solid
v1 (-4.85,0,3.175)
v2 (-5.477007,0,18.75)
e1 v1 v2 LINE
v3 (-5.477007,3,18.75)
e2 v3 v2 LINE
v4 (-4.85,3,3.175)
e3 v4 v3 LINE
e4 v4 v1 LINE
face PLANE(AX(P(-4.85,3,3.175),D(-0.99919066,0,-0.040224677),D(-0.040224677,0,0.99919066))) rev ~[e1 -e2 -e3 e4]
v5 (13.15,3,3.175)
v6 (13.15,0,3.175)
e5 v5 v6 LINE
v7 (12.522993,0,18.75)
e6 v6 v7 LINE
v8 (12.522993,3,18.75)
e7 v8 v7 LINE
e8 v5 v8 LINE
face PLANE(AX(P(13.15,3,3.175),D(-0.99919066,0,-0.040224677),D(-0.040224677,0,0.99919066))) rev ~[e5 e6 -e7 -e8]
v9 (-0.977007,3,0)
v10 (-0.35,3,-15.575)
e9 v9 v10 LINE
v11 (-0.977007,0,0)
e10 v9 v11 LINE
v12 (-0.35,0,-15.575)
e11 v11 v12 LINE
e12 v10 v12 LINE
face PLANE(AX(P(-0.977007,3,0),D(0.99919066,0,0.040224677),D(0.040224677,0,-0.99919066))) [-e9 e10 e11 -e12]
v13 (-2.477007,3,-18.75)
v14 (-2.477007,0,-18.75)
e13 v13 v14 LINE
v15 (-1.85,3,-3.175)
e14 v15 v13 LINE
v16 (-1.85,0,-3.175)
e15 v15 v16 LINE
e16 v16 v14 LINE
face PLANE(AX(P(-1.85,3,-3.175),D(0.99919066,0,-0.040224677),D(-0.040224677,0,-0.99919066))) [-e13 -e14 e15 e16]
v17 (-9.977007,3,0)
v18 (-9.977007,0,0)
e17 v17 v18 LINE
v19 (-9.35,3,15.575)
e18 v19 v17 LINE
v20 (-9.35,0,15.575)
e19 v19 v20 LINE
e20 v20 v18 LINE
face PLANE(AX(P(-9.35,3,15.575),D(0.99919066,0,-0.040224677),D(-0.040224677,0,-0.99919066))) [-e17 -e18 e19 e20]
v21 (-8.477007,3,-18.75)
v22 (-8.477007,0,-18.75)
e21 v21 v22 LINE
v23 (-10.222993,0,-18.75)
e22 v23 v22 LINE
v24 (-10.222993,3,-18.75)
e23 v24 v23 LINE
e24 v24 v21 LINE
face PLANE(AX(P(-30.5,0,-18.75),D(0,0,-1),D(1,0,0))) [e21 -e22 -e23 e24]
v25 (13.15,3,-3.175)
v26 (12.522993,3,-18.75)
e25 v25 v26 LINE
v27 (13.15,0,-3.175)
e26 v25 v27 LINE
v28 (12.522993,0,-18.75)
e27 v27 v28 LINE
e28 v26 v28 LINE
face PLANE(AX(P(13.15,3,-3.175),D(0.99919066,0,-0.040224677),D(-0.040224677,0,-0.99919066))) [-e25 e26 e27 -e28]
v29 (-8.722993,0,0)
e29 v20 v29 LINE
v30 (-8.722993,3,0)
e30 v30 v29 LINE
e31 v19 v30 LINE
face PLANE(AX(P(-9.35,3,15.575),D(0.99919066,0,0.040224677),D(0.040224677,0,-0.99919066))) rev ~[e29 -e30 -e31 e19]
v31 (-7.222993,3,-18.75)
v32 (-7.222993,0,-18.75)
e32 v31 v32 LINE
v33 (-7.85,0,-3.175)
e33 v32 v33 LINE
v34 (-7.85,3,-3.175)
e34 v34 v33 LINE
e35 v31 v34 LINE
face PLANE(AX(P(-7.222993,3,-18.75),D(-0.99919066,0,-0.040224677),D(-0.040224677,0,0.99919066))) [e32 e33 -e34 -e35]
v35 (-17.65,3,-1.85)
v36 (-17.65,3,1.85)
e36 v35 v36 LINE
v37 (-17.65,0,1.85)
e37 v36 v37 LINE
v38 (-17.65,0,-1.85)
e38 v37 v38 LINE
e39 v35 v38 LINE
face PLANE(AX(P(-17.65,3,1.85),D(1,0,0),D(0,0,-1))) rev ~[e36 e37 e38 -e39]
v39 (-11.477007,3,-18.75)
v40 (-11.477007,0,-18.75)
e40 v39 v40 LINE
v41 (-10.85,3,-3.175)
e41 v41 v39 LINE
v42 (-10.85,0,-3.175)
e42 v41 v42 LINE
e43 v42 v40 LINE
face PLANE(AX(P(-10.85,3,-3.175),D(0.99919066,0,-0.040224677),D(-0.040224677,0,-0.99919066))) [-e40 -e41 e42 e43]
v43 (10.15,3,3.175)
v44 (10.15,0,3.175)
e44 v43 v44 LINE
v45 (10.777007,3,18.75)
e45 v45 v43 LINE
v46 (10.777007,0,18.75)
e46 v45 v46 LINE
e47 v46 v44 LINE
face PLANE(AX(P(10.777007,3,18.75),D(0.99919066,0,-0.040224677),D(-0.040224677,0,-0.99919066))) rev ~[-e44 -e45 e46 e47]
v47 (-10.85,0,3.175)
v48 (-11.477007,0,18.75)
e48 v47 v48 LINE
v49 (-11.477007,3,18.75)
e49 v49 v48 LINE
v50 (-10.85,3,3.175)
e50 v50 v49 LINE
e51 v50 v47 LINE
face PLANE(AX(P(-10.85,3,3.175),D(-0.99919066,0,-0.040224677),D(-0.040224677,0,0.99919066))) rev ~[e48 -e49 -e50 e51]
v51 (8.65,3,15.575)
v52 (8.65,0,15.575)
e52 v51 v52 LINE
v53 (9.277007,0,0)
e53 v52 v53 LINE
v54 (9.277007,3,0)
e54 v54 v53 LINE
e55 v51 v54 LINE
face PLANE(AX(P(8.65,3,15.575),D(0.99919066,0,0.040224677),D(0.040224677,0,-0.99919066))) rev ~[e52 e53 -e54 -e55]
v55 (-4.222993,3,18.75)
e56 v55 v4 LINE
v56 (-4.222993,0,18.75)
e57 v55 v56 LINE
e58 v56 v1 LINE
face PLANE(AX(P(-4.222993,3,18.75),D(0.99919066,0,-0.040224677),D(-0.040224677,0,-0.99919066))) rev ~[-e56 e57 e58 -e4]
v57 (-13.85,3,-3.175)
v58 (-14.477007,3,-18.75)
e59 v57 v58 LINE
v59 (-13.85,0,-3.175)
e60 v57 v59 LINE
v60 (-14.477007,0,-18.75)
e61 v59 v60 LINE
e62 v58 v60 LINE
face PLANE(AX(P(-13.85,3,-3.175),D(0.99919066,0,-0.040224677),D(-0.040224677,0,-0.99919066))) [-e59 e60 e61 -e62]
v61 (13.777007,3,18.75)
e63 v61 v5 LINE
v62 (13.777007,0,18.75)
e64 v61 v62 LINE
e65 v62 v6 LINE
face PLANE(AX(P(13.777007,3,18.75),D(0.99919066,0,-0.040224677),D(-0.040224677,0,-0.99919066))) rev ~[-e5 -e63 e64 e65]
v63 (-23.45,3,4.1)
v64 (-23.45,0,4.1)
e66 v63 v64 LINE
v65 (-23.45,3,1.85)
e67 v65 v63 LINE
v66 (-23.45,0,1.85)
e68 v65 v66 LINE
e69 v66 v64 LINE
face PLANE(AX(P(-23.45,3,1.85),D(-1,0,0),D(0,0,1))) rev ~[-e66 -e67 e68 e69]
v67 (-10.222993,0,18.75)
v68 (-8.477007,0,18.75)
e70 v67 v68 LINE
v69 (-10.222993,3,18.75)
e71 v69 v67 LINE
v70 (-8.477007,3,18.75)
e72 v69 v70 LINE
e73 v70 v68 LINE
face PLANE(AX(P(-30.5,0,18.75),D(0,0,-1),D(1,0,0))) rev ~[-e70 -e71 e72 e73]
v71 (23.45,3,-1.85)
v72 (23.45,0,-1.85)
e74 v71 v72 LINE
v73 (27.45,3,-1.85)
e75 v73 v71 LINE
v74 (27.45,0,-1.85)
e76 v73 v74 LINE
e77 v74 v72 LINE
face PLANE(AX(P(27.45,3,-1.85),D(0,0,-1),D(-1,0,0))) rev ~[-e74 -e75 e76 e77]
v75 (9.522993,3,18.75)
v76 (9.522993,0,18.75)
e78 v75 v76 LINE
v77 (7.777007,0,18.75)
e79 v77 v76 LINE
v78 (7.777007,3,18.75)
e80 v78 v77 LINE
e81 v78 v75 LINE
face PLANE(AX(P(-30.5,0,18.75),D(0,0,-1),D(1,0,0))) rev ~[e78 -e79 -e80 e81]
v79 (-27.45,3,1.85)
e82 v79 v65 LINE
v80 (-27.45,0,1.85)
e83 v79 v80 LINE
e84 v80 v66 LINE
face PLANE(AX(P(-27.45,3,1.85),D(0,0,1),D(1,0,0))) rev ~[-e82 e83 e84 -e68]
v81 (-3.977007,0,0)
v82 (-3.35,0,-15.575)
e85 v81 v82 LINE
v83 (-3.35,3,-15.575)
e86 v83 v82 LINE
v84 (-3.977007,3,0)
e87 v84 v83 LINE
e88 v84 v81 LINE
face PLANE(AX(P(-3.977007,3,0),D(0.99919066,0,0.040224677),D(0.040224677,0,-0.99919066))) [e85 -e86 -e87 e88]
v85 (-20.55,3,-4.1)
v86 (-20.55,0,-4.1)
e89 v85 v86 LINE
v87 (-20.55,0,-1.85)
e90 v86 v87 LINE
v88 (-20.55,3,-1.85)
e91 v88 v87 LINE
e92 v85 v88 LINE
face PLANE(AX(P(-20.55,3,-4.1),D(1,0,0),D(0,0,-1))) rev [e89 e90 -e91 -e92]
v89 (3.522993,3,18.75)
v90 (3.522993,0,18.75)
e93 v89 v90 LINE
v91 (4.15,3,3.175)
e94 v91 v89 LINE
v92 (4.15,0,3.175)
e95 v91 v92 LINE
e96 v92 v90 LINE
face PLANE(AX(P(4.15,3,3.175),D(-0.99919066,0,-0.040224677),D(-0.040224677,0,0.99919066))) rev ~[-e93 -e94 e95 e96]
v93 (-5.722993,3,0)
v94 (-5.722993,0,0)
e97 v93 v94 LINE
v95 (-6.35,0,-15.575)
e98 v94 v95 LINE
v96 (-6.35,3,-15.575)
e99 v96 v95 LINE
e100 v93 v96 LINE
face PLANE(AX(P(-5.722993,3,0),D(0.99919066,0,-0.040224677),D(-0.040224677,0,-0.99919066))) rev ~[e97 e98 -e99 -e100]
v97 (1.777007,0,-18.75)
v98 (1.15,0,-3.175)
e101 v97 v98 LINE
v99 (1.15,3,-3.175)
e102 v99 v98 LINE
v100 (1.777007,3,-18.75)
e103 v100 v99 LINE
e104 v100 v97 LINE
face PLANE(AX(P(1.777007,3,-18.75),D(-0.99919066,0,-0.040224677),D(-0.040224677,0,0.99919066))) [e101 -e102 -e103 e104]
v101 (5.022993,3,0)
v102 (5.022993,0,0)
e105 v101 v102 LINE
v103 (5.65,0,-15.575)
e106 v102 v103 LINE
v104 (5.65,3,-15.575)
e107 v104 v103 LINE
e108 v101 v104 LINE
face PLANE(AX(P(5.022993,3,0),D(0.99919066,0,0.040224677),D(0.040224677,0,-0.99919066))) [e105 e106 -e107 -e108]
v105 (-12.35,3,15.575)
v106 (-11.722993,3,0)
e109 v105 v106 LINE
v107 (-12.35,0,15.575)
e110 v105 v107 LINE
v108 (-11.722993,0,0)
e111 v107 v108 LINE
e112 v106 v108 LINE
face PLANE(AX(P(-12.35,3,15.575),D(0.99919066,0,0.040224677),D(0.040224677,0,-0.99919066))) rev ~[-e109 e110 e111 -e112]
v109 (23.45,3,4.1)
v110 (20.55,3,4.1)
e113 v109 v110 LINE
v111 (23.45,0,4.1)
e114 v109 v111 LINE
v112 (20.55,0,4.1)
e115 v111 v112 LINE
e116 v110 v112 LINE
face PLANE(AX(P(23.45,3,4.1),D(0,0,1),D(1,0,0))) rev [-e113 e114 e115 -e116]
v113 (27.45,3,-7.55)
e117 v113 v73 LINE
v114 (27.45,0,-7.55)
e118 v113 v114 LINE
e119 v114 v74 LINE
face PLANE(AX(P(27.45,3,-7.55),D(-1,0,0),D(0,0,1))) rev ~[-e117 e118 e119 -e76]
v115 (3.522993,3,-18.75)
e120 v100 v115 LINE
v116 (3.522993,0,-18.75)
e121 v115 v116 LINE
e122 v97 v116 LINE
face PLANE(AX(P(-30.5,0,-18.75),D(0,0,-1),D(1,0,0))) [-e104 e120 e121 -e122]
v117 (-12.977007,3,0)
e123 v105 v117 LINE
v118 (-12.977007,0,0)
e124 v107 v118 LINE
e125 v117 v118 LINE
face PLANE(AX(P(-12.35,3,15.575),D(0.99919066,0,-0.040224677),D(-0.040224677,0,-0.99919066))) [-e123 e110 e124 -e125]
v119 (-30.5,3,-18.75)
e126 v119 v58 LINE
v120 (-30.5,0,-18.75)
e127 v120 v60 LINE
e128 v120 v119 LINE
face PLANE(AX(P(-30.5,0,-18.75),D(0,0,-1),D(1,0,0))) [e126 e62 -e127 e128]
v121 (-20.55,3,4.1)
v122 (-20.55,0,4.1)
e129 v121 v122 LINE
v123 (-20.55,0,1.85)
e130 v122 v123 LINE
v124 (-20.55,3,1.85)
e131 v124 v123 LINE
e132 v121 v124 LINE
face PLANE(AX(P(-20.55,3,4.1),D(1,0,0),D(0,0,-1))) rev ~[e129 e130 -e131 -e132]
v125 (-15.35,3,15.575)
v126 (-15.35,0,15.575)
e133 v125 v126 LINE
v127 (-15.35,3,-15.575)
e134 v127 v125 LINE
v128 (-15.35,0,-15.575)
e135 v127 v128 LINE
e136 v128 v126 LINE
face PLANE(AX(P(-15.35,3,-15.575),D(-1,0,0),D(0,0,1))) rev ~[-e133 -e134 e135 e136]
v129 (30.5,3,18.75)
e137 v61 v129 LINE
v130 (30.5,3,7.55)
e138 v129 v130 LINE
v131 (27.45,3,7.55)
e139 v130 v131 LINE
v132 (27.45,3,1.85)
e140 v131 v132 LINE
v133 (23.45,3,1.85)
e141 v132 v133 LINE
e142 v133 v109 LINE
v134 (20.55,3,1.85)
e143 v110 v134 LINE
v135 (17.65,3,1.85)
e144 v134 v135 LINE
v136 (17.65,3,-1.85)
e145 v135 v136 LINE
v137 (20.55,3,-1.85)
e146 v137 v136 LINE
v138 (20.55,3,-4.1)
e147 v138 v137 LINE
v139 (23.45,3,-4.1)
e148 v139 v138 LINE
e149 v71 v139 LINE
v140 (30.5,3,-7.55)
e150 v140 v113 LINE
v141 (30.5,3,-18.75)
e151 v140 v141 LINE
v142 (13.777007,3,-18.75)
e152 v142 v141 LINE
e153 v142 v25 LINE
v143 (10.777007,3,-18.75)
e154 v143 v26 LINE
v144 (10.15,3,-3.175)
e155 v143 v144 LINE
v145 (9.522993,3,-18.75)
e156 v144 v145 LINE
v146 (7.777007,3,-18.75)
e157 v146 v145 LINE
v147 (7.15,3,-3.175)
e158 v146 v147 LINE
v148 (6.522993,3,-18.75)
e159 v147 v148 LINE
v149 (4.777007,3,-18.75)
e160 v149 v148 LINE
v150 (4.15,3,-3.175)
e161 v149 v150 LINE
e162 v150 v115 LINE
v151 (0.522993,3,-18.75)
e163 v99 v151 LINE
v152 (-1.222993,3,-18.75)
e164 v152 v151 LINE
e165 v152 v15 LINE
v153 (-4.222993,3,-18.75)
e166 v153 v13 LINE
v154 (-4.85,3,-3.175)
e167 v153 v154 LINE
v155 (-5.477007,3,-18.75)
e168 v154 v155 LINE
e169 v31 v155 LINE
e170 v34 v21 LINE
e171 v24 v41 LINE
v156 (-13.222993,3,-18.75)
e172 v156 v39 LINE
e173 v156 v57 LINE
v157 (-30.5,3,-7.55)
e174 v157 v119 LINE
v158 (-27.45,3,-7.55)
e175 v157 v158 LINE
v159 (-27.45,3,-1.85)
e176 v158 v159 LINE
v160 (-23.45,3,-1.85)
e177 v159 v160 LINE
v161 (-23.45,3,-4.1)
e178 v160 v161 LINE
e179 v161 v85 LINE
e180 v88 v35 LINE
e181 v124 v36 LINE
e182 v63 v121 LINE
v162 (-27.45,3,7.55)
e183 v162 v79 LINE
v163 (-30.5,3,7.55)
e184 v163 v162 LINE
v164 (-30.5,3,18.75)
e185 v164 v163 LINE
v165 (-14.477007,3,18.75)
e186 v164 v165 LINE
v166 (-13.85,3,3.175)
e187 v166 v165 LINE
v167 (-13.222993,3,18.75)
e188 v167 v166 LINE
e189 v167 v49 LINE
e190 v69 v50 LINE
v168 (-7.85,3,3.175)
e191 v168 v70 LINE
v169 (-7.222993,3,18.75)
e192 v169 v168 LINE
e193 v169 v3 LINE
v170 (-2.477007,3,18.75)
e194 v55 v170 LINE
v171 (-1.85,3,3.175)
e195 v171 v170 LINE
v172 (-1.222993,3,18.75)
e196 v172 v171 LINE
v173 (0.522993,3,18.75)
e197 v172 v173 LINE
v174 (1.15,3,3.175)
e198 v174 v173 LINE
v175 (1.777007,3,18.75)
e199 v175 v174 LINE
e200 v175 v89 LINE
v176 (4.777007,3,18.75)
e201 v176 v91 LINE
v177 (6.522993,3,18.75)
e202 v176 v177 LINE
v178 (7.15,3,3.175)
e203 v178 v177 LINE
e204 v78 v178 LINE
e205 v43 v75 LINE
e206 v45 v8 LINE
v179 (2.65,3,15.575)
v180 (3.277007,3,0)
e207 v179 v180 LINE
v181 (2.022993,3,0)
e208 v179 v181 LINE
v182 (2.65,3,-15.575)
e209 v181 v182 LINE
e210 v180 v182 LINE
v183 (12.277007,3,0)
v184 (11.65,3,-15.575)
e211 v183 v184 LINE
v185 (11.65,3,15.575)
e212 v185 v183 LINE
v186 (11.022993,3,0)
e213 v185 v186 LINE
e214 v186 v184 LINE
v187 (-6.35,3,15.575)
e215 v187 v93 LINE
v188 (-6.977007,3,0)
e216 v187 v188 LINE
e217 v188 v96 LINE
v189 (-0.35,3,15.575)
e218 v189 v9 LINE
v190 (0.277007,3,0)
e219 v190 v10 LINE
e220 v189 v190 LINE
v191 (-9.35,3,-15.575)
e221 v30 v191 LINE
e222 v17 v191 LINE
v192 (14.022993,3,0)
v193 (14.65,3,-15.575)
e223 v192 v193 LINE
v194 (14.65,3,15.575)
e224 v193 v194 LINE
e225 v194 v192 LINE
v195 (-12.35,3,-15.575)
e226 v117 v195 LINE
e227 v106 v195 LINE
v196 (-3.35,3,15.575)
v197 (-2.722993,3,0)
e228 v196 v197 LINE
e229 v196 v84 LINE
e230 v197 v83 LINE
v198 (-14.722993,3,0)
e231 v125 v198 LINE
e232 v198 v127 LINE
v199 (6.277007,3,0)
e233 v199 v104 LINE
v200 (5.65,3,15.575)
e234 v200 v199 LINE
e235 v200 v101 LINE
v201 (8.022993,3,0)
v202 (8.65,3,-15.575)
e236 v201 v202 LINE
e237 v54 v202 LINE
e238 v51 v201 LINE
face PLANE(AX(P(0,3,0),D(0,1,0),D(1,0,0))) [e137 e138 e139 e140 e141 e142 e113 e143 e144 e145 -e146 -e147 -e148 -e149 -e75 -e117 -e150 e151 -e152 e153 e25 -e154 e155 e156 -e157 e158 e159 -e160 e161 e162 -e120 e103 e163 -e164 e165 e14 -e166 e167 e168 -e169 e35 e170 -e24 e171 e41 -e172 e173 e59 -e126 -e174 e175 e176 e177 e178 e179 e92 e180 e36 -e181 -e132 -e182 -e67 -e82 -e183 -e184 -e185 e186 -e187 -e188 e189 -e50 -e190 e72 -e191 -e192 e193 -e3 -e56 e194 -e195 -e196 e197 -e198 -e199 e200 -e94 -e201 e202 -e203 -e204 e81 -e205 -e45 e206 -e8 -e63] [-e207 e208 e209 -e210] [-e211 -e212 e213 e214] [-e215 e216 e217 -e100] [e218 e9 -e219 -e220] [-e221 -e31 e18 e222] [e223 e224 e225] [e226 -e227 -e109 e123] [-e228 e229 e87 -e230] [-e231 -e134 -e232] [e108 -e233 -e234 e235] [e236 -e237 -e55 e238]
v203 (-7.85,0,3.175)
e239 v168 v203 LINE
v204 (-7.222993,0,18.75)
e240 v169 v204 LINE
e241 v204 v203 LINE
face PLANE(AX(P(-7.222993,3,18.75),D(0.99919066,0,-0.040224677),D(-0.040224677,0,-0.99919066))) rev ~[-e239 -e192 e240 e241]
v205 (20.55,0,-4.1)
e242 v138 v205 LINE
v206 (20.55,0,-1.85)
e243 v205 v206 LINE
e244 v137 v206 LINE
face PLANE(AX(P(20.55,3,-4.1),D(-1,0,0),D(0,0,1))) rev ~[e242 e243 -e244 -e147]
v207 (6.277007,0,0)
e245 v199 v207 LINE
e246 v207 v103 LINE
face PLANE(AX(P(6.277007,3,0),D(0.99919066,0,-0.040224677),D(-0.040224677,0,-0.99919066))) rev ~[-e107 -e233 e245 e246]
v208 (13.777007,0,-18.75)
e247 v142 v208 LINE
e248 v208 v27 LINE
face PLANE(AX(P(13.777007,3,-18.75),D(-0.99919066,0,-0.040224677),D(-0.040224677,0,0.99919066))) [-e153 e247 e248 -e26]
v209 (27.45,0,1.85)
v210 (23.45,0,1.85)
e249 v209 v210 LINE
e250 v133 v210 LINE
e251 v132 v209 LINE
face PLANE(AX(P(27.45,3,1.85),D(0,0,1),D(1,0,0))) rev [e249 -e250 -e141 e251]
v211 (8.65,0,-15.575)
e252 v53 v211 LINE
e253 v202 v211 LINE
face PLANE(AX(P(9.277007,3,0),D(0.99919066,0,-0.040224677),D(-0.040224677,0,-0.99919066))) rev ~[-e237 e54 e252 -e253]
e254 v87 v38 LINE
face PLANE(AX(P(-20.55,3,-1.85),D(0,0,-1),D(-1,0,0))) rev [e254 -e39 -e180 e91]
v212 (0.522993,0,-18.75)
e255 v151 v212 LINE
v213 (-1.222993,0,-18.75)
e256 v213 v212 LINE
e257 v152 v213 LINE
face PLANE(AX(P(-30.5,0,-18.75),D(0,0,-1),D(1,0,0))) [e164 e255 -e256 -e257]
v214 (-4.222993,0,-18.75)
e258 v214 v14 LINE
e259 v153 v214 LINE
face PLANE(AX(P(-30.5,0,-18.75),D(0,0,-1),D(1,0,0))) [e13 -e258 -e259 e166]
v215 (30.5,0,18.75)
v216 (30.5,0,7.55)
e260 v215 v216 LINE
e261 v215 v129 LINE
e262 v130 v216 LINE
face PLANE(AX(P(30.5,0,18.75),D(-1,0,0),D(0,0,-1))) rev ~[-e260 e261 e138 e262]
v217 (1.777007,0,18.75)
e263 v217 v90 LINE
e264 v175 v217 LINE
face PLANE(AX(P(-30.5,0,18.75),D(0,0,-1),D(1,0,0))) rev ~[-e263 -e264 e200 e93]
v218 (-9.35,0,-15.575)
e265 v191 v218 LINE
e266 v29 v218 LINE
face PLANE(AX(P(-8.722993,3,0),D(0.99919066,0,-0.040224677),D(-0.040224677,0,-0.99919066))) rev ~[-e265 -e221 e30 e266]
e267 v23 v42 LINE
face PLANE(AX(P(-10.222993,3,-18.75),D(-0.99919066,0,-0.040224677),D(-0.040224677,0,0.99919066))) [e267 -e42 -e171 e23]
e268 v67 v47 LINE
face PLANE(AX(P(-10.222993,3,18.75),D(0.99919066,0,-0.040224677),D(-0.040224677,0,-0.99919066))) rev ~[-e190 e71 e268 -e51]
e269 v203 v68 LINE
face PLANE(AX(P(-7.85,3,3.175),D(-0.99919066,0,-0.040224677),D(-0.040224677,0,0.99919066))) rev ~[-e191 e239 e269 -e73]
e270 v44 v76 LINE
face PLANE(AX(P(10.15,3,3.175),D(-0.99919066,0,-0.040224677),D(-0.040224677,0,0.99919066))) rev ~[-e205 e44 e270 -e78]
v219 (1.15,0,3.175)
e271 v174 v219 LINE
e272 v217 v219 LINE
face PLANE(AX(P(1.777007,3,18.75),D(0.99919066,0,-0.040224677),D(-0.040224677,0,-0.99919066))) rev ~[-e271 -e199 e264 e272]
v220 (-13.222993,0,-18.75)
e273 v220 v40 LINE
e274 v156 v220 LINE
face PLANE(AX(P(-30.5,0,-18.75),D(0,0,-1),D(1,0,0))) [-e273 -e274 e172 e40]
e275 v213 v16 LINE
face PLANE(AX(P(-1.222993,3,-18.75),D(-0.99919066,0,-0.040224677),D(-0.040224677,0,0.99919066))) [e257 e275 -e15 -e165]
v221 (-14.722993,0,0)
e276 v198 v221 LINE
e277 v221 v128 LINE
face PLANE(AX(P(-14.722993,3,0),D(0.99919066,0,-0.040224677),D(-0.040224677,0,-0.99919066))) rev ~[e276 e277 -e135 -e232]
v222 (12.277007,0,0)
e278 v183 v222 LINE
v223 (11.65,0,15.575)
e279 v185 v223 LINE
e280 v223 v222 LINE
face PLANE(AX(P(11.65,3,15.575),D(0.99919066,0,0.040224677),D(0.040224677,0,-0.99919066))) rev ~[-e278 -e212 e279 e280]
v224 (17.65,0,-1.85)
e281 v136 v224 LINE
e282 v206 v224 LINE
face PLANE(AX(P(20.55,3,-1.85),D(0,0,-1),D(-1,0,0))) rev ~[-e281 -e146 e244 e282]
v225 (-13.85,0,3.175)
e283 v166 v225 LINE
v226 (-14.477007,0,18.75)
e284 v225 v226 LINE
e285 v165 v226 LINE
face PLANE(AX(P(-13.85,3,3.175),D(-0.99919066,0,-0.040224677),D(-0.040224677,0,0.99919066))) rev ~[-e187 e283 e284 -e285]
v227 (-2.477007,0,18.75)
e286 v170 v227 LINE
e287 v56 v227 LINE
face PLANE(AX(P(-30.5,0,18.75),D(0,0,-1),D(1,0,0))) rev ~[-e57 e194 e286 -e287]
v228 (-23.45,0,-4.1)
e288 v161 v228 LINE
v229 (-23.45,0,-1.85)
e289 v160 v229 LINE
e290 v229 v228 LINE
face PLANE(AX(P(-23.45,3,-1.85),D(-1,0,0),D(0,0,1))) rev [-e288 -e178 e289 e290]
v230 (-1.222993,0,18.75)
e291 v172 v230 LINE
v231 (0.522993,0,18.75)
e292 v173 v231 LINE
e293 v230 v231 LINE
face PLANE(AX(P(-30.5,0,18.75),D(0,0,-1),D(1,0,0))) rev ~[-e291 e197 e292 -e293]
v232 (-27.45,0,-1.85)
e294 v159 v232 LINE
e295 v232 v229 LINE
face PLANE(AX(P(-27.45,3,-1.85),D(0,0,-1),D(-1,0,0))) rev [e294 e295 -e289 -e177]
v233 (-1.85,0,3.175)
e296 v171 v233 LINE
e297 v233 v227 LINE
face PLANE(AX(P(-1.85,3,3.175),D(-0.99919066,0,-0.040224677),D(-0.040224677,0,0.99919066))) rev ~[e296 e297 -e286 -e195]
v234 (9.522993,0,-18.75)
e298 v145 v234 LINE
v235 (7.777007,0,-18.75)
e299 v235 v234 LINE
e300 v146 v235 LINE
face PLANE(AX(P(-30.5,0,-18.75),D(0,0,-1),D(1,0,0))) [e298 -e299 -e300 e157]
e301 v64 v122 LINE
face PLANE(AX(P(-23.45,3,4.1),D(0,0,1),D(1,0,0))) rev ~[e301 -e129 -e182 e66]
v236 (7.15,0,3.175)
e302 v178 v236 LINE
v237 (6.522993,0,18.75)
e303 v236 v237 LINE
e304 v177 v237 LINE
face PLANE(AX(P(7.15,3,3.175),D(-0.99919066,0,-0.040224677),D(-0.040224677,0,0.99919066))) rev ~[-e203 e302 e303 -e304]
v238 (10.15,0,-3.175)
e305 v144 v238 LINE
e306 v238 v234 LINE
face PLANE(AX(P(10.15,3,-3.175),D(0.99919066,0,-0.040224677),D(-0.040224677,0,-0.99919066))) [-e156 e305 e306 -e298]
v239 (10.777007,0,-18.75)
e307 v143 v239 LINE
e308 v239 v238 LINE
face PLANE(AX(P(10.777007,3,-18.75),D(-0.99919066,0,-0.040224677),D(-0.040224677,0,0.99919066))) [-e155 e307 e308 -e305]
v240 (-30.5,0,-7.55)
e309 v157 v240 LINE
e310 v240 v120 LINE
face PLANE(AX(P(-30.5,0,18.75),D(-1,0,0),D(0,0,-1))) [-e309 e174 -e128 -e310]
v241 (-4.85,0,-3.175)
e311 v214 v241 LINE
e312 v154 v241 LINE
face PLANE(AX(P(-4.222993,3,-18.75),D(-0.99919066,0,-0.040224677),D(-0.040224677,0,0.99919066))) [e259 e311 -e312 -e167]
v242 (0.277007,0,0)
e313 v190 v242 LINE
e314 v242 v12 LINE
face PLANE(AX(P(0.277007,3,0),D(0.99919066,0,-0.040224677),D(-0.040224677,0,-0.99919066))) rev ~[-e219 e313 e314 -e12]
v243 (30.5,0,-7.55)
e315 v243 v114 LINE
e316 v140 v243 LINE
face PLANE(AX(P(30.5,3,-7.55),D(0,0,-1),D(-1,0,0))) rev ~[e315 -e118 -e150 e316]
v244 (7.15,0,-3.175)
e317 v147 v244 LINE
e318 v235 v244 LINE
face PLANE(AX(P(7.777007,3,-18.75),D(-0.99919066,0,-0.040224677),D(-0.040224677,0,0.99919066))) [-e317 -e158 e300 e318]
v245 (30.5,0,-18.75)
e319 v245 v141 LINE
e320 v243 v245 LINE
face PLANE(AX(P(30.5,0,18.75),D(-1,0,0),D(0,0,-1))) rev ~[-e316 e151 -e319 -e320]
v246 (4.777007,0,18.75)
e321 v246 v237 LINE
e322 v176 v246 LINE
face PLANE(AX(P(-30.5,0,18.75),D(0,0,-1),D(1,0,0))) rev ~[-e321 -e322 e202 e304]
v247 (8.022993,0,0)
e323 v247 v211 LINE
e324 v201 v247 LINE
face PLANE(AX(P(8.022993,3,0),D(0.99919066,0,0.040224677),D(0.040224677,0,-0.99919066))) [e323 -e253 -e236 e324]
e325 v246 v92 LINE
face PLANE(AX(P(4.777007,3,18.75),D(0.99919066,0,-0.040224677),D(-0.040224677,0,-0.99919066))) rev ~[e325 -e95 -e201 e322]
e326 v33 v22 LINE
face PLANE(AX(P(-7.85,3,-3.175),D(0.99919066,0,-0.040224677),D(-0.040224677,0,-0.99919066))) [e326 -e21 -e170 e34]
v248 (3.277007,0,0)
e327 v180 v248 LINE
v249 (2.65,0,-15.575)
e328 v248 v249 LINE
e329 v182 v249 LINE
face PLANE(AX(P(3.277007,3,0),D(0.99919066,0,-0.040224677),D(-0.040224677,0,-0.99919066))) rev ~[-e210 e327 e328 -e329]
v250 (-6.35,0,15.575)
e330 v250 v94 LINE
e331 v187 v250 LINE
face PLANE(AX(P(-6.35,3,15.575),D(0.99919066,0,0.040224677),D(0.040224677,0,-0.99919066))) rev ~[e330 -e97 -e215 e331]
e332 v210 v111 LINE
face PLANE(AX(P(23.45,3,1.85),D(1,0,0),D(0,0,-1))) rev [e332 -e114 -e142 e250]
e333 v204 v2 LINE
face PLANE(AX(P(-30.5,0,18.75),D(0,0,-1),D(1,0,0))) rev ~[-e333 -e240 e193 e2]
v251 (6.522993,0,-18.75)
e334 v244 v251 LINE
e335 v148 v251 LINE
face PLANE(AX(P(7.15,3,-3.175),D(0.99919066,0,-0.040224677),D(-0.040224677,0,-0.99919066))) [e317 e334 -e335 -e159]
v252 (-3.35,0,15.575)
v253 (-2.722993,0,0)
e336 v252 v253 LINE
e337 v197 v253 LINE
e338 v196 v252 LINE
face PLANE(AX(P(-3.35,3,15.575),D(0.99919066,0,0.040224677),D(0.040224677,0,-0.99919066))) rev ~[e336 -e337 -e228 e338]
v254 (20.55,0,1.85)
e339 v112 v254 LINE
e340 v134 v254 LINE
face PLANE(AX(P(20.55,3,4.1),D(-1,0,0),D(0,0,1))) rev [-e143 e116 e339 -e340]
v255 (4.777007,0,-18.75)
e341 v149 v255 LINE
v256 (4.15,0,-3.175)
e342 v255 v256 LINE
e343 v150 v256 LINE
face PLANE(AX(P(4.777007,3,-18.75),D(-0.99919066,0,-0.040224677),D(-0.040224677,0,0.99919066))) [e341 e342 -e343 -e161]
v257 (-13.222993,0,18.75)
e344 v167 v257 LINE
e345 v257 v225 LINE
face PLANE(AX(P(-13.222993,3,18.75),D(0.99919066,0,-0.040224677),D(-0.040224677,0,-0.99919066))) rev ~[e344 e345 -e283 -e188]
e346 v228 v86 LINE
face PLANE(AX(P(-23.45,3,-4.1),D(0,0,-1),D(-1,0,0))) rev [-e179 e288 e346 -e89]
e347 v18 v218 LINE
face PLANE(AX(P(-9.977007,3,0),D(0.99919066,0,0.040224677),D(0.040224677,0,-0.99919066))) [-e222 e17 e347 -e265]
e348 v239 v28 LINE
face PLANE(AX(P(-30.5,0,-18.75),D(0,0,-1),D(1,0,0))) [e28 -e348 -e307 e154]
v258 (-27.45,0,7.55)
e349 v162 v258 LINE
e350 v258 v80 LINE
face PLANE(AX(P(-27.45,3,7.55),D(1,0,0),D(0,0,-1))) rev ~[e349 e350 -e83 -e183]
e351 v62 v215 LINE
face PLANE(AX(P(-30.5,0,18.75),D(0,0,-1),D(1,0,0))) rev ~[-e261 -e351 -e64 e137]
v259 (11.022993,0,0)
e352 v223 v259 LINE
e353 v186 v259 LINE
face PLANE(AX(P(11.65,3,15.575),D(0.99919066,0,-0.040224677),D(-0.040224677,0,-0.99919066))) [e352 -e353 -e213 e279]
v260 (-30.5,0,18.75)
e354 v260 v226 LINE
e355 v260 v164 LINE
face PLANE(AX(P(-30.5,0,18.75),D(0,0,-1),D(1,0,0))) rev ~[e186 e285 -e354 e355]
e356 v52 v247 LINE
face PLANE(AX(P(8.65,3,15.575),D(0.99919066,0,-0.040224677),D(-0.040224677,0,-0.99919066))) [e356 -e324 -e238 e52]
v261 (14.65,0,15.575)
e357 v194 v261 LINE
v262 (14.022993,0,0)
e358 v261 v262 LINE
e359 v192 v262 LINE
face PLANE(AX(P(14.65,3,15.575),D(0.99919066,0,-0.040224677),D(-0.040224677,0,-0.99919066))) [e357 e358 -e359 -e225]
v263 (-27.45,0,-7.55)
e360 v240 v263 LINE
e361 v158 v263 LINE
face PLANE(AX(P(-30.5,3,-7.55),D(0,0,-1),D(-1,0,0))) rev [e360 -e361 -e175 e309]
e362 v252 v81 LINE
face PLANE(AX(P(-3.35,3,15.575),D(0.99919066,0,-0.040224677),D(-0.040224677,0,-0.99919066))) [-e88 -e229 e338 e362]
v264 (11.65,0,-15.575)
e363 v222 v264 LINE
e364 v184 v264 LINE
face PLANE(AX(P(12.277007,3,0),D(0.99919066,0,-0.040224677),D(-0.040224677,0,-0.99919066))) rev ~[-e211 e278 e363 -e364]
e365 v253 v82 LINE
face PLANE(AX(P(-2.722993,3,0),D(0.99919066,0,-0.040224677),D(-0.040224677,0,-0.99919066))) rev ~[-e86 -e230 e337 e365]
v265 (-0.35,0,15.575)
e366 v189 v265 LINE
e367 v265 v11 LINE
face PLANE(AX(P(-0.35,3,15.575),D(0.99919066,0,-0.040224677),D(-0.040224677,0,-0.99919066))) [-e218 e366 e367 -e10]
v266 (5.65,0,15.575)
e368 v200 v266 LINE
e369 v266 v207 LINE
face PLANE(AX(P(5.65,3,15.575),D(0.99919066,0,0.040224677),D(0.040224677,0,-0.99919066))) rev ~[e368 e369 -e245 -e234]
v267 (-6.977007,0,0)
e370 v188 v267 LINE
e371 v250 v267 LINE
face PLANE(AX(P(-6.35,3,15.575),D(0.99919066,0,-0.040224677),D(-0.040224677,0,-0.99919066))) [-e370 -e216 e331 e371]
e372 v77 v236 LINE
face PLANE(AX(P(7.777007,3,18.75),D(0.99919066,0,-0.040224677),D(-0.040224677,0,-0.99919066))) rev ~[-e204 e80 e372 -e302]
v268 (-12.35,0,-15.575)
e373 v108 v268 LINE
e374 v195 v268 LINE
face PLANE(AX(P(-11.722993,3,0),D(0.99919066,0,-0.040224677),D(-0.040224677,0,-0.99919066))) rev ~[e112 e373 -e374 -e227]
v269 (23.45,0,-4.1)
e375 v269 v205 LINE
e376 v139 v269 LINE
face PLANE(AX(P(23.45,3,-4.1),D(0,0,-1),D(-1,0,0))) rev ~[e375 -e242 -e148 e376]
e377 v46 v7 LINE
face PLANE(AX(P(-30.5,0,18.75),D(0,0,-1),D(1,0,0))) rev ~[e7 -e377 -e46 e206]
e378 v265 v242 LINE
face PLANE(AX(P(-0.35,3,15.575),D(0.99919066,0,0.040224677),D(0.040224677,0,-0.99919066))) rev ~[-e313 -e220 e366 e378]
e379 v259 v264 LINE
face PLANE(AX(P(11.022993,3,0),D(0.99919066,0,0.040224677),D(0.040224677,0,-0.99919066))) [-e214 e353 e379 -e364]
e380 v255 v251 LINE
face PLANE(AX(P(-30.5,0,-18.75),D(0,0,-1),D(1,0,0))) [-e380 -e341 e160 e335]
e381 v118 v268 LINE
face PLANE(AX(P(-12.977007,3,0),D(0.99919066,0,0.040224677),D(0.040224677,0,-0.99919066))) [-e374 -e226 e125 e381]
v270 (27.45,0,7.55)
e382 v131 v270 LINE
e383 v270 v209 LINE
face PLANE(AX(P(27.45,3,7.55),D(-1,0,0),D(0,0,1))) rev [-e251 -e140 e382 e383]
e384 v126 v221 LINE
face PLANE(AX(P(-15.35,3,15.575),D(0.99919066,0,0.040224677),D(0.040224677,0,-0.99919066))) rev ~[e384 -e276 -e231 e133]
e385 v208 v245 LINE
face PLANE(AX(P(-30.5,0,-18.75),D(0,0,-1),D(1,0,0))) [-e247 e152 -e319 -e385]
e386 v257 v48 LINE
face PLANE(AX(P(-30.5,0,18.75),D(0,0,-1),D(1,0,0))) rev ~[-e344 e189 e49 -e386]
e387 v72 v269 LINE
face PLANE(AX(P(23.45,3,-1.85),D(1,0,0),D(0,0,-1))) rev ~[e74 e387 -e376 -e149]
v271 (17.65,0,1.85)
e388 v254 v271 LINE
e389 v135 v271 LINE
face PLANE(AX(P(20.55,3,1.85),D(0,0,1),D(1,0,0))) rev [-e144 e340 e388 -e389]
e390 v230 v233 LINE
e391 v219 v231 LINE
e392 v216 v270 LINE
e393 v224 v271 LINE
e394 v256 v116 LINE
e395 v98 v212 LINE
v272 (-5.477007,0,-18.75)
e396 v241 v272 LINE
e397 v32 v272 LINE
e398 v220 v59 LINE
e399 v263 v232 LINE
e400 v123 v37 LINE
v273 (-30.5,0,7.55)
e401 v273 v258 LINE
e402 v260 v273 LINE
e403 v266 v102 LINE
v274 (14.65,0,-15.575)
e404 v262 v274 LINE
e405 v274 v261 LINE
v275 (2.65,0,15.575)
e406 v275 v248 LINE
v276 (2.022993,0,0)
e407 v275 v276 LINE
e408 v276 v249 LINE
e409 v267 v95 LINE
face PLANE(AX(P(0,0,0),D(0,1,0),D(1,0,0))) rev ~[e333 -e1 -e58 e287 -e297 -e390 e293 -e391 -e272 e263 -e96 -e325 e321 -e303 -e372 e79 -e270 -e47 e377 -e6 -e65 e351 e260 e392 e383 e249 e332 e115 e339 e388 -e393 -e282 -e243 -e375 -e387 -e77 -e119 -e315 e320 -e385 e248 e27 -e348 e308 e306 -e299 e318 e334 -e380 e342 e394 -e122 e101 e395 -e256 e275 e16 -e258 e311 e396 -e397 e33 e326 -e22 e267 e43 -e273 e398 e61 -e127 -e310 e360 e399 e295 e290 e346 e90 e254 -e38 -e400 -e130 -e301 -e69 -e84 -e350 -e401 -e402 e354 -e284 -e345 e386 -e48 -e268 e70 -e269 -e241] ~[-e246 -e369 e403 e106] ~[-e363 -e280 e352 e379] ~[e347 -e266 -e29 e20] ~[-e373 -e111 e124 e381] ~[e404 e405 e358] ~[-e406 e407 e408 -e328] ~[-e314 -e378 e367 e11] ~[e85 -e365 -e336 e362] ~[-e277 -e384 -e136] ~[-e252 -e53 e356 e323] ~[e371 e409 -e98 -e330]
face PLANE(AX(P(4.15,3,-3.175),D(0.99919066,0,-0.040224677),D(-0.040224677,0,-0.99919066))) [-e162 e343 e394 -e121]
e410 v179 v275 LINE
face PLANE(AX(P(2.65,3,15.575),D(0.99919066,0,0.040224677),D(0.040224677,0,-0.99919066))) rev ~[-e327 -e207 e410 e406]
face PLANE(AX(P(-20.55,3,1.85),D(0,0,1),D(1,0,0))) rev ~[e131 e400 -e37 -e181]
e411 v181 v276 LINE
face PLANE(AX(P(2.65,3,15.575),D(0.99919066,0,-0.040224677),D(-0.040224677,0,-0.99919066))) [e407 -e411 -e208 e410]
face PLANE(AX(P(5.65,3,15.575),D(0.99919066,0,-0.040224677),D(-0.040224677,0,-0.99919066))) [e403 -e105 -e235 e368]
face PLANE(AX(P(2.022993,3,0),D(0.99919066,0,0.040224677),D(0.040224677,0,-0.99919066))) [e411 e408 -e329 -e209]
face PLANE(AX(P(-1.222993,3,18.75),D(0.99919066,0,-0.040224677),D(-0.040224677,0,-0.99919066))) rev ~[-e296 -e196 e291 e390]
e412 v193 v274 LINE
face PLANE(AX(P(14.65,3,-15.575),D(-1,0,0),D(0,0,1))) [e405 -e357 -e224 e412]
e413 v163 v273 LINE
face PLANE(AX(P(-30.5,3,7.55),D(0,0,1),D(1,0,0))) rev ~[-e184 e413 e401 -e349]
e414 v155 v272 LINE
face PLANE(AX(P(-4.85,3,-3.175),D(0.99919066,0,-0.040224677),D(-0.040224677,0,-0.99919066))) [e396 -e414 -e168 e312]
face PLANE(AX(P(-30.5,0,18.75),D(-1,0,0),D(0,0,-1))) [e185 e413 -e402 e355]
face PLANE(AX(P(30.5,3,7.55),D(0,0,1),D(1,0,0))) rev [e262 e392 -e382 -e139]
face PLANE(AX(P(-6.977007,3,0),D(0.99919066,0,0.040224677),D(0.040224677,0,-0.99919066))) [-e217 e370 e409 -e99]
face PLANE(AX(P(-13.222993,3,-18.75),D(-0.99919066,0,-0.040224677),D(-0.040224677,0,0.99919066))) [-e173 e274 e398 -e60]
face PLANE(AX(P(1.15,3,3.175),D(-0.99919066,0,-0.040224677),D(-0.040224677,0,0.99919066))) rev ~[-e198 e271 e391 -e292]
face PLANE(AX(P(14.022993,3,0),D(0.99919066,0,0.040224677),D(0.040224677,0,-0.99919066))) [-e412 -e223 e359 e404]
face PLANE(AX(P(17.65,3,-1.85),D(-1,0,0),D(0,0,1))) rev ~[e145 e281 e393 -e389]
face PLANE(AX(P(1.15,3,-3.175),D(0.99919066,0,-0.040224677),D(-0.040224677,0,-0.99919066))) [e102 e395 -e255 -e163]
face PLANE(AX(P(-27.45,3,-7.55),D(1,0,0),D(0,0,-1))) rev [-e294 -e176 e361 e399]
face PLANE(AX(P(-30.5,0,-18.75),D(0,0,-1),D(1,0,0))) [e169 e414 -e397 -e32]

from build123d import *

# Parameters (mm, degrees)
SKETCH1_W            = 61
SKETCH1_H            = 37.5
BOSS_EXTRUDE1_DEPTH  = 3
CUT_EXTRUDE2_DEPTH   = 36.927879147
MIRROR2_COPY_1_DEPTH = 36.927879147
CUT_EXTRUDE3_DEPTH   = 36.927879147
LPATTERN1_COUNT      = 10
LPATTERN1_PITCH      = 3


with BuildPart() as part:
    # Sketch1 → Boss-Extrude1 (new body)
    with BuildSketch(Plane(origin=(0, 0, 0), x_dir=(1, 0, 0), z_dir=(0, 1, 0))):
        Rectangle(SKETCH1_W, SKETCH1_H)
    extrude(amount=BOSS_EXTRUDE1_DEPTH)

    # Sketch3 → Cut-Extrude2 (cut, through all)
    with BuildSketch(Plane(origin=(0, 3, 0), x_dir=(1, 0, 0), z_dir=(0, 1, 0))):
        Polygon((30.5, 7.55), (27.45, 7.55), (27.45, 1.85), (23.45, 1.85), (23.45, 4.1), (20.55, 4.1), (20.55, 1.85), (17.65, 1.85), (17.65, 0), (30.5, 0), align=None)
    cut_extrude2 = extrude(amount=-CUT_EXTRUDE2_DEPTH, mode=Mode.SUBTRACT)

    # Mirror1: Cut-Extrude2 across plane
    add(cut_extrude2.mirror(Plane.XY), mode=Mode.SUBTRACT)

    # Mirror2: Cut-Extrude2 across plane
    add(cut_extrude2.mirror(Plane(origin=(0, 0, 0), x_dir=(0, 0, 1), z_dir=(1, 0, 0))), mode=Mode.SUBTRACT)

    # Mirror2 copy 1 sketch → Mirror2 copy 1 (cut, through all)
    with BuildSketch(Plane(origin=(0, 3, 0), x_dir=(-1, 0, 0), z_dir=(0, 1, 0))):
        Polygon((30.5, 7.55), (27.45, 7.55), (27.45, 1.85), (23.45, 1.85), (23.45, 4.1), (20.55, 4.1), (20.55, 1.85), (17.65, 1.85), (17.65, 0), (30.5, 0), align=None)
    extrude(amount=-MIRROR2_COPY_1_DEPTH, mode=Mode.SUBTRACT)

    # Sketch4 → Cut-Extrude3 (cut, through all)
    with BuildSketch(Plane(origin=(0, 3, 0), x_dir=(1, 0, 0), z_dir=(0, 1, 0))):
        Polygon((14.65, 15.575), (14.65, -15.575), (14.0229932, 0), align=None)
        Polygon((13.7770068, 18.75), (13.15, 3.175), (12.5229932, 18.75), align=None)
        Polygon((13.15, -3.175), (12.5229932, -18.75), (13.7770068, -18.75), align=None)
        Polygon((11.65, 15.575), (11.65, -15.575), (12.2770068, 0), align=None)
    cut_extrude3 = extrude(amount=-CUT_EXTRUDE3_DEPTH, mode=Mode.SUBTRACT)

    # LPattern1: Cut-Extrude3 ×10
    with Locations(*[(-i * LPATTERN1_PITCH, 0, 0) for i in range(1, LPATTERN1_COUNT)]):
        add(cut_extrude3, mode=Mode.SUBTRACT)


solid = part.part
